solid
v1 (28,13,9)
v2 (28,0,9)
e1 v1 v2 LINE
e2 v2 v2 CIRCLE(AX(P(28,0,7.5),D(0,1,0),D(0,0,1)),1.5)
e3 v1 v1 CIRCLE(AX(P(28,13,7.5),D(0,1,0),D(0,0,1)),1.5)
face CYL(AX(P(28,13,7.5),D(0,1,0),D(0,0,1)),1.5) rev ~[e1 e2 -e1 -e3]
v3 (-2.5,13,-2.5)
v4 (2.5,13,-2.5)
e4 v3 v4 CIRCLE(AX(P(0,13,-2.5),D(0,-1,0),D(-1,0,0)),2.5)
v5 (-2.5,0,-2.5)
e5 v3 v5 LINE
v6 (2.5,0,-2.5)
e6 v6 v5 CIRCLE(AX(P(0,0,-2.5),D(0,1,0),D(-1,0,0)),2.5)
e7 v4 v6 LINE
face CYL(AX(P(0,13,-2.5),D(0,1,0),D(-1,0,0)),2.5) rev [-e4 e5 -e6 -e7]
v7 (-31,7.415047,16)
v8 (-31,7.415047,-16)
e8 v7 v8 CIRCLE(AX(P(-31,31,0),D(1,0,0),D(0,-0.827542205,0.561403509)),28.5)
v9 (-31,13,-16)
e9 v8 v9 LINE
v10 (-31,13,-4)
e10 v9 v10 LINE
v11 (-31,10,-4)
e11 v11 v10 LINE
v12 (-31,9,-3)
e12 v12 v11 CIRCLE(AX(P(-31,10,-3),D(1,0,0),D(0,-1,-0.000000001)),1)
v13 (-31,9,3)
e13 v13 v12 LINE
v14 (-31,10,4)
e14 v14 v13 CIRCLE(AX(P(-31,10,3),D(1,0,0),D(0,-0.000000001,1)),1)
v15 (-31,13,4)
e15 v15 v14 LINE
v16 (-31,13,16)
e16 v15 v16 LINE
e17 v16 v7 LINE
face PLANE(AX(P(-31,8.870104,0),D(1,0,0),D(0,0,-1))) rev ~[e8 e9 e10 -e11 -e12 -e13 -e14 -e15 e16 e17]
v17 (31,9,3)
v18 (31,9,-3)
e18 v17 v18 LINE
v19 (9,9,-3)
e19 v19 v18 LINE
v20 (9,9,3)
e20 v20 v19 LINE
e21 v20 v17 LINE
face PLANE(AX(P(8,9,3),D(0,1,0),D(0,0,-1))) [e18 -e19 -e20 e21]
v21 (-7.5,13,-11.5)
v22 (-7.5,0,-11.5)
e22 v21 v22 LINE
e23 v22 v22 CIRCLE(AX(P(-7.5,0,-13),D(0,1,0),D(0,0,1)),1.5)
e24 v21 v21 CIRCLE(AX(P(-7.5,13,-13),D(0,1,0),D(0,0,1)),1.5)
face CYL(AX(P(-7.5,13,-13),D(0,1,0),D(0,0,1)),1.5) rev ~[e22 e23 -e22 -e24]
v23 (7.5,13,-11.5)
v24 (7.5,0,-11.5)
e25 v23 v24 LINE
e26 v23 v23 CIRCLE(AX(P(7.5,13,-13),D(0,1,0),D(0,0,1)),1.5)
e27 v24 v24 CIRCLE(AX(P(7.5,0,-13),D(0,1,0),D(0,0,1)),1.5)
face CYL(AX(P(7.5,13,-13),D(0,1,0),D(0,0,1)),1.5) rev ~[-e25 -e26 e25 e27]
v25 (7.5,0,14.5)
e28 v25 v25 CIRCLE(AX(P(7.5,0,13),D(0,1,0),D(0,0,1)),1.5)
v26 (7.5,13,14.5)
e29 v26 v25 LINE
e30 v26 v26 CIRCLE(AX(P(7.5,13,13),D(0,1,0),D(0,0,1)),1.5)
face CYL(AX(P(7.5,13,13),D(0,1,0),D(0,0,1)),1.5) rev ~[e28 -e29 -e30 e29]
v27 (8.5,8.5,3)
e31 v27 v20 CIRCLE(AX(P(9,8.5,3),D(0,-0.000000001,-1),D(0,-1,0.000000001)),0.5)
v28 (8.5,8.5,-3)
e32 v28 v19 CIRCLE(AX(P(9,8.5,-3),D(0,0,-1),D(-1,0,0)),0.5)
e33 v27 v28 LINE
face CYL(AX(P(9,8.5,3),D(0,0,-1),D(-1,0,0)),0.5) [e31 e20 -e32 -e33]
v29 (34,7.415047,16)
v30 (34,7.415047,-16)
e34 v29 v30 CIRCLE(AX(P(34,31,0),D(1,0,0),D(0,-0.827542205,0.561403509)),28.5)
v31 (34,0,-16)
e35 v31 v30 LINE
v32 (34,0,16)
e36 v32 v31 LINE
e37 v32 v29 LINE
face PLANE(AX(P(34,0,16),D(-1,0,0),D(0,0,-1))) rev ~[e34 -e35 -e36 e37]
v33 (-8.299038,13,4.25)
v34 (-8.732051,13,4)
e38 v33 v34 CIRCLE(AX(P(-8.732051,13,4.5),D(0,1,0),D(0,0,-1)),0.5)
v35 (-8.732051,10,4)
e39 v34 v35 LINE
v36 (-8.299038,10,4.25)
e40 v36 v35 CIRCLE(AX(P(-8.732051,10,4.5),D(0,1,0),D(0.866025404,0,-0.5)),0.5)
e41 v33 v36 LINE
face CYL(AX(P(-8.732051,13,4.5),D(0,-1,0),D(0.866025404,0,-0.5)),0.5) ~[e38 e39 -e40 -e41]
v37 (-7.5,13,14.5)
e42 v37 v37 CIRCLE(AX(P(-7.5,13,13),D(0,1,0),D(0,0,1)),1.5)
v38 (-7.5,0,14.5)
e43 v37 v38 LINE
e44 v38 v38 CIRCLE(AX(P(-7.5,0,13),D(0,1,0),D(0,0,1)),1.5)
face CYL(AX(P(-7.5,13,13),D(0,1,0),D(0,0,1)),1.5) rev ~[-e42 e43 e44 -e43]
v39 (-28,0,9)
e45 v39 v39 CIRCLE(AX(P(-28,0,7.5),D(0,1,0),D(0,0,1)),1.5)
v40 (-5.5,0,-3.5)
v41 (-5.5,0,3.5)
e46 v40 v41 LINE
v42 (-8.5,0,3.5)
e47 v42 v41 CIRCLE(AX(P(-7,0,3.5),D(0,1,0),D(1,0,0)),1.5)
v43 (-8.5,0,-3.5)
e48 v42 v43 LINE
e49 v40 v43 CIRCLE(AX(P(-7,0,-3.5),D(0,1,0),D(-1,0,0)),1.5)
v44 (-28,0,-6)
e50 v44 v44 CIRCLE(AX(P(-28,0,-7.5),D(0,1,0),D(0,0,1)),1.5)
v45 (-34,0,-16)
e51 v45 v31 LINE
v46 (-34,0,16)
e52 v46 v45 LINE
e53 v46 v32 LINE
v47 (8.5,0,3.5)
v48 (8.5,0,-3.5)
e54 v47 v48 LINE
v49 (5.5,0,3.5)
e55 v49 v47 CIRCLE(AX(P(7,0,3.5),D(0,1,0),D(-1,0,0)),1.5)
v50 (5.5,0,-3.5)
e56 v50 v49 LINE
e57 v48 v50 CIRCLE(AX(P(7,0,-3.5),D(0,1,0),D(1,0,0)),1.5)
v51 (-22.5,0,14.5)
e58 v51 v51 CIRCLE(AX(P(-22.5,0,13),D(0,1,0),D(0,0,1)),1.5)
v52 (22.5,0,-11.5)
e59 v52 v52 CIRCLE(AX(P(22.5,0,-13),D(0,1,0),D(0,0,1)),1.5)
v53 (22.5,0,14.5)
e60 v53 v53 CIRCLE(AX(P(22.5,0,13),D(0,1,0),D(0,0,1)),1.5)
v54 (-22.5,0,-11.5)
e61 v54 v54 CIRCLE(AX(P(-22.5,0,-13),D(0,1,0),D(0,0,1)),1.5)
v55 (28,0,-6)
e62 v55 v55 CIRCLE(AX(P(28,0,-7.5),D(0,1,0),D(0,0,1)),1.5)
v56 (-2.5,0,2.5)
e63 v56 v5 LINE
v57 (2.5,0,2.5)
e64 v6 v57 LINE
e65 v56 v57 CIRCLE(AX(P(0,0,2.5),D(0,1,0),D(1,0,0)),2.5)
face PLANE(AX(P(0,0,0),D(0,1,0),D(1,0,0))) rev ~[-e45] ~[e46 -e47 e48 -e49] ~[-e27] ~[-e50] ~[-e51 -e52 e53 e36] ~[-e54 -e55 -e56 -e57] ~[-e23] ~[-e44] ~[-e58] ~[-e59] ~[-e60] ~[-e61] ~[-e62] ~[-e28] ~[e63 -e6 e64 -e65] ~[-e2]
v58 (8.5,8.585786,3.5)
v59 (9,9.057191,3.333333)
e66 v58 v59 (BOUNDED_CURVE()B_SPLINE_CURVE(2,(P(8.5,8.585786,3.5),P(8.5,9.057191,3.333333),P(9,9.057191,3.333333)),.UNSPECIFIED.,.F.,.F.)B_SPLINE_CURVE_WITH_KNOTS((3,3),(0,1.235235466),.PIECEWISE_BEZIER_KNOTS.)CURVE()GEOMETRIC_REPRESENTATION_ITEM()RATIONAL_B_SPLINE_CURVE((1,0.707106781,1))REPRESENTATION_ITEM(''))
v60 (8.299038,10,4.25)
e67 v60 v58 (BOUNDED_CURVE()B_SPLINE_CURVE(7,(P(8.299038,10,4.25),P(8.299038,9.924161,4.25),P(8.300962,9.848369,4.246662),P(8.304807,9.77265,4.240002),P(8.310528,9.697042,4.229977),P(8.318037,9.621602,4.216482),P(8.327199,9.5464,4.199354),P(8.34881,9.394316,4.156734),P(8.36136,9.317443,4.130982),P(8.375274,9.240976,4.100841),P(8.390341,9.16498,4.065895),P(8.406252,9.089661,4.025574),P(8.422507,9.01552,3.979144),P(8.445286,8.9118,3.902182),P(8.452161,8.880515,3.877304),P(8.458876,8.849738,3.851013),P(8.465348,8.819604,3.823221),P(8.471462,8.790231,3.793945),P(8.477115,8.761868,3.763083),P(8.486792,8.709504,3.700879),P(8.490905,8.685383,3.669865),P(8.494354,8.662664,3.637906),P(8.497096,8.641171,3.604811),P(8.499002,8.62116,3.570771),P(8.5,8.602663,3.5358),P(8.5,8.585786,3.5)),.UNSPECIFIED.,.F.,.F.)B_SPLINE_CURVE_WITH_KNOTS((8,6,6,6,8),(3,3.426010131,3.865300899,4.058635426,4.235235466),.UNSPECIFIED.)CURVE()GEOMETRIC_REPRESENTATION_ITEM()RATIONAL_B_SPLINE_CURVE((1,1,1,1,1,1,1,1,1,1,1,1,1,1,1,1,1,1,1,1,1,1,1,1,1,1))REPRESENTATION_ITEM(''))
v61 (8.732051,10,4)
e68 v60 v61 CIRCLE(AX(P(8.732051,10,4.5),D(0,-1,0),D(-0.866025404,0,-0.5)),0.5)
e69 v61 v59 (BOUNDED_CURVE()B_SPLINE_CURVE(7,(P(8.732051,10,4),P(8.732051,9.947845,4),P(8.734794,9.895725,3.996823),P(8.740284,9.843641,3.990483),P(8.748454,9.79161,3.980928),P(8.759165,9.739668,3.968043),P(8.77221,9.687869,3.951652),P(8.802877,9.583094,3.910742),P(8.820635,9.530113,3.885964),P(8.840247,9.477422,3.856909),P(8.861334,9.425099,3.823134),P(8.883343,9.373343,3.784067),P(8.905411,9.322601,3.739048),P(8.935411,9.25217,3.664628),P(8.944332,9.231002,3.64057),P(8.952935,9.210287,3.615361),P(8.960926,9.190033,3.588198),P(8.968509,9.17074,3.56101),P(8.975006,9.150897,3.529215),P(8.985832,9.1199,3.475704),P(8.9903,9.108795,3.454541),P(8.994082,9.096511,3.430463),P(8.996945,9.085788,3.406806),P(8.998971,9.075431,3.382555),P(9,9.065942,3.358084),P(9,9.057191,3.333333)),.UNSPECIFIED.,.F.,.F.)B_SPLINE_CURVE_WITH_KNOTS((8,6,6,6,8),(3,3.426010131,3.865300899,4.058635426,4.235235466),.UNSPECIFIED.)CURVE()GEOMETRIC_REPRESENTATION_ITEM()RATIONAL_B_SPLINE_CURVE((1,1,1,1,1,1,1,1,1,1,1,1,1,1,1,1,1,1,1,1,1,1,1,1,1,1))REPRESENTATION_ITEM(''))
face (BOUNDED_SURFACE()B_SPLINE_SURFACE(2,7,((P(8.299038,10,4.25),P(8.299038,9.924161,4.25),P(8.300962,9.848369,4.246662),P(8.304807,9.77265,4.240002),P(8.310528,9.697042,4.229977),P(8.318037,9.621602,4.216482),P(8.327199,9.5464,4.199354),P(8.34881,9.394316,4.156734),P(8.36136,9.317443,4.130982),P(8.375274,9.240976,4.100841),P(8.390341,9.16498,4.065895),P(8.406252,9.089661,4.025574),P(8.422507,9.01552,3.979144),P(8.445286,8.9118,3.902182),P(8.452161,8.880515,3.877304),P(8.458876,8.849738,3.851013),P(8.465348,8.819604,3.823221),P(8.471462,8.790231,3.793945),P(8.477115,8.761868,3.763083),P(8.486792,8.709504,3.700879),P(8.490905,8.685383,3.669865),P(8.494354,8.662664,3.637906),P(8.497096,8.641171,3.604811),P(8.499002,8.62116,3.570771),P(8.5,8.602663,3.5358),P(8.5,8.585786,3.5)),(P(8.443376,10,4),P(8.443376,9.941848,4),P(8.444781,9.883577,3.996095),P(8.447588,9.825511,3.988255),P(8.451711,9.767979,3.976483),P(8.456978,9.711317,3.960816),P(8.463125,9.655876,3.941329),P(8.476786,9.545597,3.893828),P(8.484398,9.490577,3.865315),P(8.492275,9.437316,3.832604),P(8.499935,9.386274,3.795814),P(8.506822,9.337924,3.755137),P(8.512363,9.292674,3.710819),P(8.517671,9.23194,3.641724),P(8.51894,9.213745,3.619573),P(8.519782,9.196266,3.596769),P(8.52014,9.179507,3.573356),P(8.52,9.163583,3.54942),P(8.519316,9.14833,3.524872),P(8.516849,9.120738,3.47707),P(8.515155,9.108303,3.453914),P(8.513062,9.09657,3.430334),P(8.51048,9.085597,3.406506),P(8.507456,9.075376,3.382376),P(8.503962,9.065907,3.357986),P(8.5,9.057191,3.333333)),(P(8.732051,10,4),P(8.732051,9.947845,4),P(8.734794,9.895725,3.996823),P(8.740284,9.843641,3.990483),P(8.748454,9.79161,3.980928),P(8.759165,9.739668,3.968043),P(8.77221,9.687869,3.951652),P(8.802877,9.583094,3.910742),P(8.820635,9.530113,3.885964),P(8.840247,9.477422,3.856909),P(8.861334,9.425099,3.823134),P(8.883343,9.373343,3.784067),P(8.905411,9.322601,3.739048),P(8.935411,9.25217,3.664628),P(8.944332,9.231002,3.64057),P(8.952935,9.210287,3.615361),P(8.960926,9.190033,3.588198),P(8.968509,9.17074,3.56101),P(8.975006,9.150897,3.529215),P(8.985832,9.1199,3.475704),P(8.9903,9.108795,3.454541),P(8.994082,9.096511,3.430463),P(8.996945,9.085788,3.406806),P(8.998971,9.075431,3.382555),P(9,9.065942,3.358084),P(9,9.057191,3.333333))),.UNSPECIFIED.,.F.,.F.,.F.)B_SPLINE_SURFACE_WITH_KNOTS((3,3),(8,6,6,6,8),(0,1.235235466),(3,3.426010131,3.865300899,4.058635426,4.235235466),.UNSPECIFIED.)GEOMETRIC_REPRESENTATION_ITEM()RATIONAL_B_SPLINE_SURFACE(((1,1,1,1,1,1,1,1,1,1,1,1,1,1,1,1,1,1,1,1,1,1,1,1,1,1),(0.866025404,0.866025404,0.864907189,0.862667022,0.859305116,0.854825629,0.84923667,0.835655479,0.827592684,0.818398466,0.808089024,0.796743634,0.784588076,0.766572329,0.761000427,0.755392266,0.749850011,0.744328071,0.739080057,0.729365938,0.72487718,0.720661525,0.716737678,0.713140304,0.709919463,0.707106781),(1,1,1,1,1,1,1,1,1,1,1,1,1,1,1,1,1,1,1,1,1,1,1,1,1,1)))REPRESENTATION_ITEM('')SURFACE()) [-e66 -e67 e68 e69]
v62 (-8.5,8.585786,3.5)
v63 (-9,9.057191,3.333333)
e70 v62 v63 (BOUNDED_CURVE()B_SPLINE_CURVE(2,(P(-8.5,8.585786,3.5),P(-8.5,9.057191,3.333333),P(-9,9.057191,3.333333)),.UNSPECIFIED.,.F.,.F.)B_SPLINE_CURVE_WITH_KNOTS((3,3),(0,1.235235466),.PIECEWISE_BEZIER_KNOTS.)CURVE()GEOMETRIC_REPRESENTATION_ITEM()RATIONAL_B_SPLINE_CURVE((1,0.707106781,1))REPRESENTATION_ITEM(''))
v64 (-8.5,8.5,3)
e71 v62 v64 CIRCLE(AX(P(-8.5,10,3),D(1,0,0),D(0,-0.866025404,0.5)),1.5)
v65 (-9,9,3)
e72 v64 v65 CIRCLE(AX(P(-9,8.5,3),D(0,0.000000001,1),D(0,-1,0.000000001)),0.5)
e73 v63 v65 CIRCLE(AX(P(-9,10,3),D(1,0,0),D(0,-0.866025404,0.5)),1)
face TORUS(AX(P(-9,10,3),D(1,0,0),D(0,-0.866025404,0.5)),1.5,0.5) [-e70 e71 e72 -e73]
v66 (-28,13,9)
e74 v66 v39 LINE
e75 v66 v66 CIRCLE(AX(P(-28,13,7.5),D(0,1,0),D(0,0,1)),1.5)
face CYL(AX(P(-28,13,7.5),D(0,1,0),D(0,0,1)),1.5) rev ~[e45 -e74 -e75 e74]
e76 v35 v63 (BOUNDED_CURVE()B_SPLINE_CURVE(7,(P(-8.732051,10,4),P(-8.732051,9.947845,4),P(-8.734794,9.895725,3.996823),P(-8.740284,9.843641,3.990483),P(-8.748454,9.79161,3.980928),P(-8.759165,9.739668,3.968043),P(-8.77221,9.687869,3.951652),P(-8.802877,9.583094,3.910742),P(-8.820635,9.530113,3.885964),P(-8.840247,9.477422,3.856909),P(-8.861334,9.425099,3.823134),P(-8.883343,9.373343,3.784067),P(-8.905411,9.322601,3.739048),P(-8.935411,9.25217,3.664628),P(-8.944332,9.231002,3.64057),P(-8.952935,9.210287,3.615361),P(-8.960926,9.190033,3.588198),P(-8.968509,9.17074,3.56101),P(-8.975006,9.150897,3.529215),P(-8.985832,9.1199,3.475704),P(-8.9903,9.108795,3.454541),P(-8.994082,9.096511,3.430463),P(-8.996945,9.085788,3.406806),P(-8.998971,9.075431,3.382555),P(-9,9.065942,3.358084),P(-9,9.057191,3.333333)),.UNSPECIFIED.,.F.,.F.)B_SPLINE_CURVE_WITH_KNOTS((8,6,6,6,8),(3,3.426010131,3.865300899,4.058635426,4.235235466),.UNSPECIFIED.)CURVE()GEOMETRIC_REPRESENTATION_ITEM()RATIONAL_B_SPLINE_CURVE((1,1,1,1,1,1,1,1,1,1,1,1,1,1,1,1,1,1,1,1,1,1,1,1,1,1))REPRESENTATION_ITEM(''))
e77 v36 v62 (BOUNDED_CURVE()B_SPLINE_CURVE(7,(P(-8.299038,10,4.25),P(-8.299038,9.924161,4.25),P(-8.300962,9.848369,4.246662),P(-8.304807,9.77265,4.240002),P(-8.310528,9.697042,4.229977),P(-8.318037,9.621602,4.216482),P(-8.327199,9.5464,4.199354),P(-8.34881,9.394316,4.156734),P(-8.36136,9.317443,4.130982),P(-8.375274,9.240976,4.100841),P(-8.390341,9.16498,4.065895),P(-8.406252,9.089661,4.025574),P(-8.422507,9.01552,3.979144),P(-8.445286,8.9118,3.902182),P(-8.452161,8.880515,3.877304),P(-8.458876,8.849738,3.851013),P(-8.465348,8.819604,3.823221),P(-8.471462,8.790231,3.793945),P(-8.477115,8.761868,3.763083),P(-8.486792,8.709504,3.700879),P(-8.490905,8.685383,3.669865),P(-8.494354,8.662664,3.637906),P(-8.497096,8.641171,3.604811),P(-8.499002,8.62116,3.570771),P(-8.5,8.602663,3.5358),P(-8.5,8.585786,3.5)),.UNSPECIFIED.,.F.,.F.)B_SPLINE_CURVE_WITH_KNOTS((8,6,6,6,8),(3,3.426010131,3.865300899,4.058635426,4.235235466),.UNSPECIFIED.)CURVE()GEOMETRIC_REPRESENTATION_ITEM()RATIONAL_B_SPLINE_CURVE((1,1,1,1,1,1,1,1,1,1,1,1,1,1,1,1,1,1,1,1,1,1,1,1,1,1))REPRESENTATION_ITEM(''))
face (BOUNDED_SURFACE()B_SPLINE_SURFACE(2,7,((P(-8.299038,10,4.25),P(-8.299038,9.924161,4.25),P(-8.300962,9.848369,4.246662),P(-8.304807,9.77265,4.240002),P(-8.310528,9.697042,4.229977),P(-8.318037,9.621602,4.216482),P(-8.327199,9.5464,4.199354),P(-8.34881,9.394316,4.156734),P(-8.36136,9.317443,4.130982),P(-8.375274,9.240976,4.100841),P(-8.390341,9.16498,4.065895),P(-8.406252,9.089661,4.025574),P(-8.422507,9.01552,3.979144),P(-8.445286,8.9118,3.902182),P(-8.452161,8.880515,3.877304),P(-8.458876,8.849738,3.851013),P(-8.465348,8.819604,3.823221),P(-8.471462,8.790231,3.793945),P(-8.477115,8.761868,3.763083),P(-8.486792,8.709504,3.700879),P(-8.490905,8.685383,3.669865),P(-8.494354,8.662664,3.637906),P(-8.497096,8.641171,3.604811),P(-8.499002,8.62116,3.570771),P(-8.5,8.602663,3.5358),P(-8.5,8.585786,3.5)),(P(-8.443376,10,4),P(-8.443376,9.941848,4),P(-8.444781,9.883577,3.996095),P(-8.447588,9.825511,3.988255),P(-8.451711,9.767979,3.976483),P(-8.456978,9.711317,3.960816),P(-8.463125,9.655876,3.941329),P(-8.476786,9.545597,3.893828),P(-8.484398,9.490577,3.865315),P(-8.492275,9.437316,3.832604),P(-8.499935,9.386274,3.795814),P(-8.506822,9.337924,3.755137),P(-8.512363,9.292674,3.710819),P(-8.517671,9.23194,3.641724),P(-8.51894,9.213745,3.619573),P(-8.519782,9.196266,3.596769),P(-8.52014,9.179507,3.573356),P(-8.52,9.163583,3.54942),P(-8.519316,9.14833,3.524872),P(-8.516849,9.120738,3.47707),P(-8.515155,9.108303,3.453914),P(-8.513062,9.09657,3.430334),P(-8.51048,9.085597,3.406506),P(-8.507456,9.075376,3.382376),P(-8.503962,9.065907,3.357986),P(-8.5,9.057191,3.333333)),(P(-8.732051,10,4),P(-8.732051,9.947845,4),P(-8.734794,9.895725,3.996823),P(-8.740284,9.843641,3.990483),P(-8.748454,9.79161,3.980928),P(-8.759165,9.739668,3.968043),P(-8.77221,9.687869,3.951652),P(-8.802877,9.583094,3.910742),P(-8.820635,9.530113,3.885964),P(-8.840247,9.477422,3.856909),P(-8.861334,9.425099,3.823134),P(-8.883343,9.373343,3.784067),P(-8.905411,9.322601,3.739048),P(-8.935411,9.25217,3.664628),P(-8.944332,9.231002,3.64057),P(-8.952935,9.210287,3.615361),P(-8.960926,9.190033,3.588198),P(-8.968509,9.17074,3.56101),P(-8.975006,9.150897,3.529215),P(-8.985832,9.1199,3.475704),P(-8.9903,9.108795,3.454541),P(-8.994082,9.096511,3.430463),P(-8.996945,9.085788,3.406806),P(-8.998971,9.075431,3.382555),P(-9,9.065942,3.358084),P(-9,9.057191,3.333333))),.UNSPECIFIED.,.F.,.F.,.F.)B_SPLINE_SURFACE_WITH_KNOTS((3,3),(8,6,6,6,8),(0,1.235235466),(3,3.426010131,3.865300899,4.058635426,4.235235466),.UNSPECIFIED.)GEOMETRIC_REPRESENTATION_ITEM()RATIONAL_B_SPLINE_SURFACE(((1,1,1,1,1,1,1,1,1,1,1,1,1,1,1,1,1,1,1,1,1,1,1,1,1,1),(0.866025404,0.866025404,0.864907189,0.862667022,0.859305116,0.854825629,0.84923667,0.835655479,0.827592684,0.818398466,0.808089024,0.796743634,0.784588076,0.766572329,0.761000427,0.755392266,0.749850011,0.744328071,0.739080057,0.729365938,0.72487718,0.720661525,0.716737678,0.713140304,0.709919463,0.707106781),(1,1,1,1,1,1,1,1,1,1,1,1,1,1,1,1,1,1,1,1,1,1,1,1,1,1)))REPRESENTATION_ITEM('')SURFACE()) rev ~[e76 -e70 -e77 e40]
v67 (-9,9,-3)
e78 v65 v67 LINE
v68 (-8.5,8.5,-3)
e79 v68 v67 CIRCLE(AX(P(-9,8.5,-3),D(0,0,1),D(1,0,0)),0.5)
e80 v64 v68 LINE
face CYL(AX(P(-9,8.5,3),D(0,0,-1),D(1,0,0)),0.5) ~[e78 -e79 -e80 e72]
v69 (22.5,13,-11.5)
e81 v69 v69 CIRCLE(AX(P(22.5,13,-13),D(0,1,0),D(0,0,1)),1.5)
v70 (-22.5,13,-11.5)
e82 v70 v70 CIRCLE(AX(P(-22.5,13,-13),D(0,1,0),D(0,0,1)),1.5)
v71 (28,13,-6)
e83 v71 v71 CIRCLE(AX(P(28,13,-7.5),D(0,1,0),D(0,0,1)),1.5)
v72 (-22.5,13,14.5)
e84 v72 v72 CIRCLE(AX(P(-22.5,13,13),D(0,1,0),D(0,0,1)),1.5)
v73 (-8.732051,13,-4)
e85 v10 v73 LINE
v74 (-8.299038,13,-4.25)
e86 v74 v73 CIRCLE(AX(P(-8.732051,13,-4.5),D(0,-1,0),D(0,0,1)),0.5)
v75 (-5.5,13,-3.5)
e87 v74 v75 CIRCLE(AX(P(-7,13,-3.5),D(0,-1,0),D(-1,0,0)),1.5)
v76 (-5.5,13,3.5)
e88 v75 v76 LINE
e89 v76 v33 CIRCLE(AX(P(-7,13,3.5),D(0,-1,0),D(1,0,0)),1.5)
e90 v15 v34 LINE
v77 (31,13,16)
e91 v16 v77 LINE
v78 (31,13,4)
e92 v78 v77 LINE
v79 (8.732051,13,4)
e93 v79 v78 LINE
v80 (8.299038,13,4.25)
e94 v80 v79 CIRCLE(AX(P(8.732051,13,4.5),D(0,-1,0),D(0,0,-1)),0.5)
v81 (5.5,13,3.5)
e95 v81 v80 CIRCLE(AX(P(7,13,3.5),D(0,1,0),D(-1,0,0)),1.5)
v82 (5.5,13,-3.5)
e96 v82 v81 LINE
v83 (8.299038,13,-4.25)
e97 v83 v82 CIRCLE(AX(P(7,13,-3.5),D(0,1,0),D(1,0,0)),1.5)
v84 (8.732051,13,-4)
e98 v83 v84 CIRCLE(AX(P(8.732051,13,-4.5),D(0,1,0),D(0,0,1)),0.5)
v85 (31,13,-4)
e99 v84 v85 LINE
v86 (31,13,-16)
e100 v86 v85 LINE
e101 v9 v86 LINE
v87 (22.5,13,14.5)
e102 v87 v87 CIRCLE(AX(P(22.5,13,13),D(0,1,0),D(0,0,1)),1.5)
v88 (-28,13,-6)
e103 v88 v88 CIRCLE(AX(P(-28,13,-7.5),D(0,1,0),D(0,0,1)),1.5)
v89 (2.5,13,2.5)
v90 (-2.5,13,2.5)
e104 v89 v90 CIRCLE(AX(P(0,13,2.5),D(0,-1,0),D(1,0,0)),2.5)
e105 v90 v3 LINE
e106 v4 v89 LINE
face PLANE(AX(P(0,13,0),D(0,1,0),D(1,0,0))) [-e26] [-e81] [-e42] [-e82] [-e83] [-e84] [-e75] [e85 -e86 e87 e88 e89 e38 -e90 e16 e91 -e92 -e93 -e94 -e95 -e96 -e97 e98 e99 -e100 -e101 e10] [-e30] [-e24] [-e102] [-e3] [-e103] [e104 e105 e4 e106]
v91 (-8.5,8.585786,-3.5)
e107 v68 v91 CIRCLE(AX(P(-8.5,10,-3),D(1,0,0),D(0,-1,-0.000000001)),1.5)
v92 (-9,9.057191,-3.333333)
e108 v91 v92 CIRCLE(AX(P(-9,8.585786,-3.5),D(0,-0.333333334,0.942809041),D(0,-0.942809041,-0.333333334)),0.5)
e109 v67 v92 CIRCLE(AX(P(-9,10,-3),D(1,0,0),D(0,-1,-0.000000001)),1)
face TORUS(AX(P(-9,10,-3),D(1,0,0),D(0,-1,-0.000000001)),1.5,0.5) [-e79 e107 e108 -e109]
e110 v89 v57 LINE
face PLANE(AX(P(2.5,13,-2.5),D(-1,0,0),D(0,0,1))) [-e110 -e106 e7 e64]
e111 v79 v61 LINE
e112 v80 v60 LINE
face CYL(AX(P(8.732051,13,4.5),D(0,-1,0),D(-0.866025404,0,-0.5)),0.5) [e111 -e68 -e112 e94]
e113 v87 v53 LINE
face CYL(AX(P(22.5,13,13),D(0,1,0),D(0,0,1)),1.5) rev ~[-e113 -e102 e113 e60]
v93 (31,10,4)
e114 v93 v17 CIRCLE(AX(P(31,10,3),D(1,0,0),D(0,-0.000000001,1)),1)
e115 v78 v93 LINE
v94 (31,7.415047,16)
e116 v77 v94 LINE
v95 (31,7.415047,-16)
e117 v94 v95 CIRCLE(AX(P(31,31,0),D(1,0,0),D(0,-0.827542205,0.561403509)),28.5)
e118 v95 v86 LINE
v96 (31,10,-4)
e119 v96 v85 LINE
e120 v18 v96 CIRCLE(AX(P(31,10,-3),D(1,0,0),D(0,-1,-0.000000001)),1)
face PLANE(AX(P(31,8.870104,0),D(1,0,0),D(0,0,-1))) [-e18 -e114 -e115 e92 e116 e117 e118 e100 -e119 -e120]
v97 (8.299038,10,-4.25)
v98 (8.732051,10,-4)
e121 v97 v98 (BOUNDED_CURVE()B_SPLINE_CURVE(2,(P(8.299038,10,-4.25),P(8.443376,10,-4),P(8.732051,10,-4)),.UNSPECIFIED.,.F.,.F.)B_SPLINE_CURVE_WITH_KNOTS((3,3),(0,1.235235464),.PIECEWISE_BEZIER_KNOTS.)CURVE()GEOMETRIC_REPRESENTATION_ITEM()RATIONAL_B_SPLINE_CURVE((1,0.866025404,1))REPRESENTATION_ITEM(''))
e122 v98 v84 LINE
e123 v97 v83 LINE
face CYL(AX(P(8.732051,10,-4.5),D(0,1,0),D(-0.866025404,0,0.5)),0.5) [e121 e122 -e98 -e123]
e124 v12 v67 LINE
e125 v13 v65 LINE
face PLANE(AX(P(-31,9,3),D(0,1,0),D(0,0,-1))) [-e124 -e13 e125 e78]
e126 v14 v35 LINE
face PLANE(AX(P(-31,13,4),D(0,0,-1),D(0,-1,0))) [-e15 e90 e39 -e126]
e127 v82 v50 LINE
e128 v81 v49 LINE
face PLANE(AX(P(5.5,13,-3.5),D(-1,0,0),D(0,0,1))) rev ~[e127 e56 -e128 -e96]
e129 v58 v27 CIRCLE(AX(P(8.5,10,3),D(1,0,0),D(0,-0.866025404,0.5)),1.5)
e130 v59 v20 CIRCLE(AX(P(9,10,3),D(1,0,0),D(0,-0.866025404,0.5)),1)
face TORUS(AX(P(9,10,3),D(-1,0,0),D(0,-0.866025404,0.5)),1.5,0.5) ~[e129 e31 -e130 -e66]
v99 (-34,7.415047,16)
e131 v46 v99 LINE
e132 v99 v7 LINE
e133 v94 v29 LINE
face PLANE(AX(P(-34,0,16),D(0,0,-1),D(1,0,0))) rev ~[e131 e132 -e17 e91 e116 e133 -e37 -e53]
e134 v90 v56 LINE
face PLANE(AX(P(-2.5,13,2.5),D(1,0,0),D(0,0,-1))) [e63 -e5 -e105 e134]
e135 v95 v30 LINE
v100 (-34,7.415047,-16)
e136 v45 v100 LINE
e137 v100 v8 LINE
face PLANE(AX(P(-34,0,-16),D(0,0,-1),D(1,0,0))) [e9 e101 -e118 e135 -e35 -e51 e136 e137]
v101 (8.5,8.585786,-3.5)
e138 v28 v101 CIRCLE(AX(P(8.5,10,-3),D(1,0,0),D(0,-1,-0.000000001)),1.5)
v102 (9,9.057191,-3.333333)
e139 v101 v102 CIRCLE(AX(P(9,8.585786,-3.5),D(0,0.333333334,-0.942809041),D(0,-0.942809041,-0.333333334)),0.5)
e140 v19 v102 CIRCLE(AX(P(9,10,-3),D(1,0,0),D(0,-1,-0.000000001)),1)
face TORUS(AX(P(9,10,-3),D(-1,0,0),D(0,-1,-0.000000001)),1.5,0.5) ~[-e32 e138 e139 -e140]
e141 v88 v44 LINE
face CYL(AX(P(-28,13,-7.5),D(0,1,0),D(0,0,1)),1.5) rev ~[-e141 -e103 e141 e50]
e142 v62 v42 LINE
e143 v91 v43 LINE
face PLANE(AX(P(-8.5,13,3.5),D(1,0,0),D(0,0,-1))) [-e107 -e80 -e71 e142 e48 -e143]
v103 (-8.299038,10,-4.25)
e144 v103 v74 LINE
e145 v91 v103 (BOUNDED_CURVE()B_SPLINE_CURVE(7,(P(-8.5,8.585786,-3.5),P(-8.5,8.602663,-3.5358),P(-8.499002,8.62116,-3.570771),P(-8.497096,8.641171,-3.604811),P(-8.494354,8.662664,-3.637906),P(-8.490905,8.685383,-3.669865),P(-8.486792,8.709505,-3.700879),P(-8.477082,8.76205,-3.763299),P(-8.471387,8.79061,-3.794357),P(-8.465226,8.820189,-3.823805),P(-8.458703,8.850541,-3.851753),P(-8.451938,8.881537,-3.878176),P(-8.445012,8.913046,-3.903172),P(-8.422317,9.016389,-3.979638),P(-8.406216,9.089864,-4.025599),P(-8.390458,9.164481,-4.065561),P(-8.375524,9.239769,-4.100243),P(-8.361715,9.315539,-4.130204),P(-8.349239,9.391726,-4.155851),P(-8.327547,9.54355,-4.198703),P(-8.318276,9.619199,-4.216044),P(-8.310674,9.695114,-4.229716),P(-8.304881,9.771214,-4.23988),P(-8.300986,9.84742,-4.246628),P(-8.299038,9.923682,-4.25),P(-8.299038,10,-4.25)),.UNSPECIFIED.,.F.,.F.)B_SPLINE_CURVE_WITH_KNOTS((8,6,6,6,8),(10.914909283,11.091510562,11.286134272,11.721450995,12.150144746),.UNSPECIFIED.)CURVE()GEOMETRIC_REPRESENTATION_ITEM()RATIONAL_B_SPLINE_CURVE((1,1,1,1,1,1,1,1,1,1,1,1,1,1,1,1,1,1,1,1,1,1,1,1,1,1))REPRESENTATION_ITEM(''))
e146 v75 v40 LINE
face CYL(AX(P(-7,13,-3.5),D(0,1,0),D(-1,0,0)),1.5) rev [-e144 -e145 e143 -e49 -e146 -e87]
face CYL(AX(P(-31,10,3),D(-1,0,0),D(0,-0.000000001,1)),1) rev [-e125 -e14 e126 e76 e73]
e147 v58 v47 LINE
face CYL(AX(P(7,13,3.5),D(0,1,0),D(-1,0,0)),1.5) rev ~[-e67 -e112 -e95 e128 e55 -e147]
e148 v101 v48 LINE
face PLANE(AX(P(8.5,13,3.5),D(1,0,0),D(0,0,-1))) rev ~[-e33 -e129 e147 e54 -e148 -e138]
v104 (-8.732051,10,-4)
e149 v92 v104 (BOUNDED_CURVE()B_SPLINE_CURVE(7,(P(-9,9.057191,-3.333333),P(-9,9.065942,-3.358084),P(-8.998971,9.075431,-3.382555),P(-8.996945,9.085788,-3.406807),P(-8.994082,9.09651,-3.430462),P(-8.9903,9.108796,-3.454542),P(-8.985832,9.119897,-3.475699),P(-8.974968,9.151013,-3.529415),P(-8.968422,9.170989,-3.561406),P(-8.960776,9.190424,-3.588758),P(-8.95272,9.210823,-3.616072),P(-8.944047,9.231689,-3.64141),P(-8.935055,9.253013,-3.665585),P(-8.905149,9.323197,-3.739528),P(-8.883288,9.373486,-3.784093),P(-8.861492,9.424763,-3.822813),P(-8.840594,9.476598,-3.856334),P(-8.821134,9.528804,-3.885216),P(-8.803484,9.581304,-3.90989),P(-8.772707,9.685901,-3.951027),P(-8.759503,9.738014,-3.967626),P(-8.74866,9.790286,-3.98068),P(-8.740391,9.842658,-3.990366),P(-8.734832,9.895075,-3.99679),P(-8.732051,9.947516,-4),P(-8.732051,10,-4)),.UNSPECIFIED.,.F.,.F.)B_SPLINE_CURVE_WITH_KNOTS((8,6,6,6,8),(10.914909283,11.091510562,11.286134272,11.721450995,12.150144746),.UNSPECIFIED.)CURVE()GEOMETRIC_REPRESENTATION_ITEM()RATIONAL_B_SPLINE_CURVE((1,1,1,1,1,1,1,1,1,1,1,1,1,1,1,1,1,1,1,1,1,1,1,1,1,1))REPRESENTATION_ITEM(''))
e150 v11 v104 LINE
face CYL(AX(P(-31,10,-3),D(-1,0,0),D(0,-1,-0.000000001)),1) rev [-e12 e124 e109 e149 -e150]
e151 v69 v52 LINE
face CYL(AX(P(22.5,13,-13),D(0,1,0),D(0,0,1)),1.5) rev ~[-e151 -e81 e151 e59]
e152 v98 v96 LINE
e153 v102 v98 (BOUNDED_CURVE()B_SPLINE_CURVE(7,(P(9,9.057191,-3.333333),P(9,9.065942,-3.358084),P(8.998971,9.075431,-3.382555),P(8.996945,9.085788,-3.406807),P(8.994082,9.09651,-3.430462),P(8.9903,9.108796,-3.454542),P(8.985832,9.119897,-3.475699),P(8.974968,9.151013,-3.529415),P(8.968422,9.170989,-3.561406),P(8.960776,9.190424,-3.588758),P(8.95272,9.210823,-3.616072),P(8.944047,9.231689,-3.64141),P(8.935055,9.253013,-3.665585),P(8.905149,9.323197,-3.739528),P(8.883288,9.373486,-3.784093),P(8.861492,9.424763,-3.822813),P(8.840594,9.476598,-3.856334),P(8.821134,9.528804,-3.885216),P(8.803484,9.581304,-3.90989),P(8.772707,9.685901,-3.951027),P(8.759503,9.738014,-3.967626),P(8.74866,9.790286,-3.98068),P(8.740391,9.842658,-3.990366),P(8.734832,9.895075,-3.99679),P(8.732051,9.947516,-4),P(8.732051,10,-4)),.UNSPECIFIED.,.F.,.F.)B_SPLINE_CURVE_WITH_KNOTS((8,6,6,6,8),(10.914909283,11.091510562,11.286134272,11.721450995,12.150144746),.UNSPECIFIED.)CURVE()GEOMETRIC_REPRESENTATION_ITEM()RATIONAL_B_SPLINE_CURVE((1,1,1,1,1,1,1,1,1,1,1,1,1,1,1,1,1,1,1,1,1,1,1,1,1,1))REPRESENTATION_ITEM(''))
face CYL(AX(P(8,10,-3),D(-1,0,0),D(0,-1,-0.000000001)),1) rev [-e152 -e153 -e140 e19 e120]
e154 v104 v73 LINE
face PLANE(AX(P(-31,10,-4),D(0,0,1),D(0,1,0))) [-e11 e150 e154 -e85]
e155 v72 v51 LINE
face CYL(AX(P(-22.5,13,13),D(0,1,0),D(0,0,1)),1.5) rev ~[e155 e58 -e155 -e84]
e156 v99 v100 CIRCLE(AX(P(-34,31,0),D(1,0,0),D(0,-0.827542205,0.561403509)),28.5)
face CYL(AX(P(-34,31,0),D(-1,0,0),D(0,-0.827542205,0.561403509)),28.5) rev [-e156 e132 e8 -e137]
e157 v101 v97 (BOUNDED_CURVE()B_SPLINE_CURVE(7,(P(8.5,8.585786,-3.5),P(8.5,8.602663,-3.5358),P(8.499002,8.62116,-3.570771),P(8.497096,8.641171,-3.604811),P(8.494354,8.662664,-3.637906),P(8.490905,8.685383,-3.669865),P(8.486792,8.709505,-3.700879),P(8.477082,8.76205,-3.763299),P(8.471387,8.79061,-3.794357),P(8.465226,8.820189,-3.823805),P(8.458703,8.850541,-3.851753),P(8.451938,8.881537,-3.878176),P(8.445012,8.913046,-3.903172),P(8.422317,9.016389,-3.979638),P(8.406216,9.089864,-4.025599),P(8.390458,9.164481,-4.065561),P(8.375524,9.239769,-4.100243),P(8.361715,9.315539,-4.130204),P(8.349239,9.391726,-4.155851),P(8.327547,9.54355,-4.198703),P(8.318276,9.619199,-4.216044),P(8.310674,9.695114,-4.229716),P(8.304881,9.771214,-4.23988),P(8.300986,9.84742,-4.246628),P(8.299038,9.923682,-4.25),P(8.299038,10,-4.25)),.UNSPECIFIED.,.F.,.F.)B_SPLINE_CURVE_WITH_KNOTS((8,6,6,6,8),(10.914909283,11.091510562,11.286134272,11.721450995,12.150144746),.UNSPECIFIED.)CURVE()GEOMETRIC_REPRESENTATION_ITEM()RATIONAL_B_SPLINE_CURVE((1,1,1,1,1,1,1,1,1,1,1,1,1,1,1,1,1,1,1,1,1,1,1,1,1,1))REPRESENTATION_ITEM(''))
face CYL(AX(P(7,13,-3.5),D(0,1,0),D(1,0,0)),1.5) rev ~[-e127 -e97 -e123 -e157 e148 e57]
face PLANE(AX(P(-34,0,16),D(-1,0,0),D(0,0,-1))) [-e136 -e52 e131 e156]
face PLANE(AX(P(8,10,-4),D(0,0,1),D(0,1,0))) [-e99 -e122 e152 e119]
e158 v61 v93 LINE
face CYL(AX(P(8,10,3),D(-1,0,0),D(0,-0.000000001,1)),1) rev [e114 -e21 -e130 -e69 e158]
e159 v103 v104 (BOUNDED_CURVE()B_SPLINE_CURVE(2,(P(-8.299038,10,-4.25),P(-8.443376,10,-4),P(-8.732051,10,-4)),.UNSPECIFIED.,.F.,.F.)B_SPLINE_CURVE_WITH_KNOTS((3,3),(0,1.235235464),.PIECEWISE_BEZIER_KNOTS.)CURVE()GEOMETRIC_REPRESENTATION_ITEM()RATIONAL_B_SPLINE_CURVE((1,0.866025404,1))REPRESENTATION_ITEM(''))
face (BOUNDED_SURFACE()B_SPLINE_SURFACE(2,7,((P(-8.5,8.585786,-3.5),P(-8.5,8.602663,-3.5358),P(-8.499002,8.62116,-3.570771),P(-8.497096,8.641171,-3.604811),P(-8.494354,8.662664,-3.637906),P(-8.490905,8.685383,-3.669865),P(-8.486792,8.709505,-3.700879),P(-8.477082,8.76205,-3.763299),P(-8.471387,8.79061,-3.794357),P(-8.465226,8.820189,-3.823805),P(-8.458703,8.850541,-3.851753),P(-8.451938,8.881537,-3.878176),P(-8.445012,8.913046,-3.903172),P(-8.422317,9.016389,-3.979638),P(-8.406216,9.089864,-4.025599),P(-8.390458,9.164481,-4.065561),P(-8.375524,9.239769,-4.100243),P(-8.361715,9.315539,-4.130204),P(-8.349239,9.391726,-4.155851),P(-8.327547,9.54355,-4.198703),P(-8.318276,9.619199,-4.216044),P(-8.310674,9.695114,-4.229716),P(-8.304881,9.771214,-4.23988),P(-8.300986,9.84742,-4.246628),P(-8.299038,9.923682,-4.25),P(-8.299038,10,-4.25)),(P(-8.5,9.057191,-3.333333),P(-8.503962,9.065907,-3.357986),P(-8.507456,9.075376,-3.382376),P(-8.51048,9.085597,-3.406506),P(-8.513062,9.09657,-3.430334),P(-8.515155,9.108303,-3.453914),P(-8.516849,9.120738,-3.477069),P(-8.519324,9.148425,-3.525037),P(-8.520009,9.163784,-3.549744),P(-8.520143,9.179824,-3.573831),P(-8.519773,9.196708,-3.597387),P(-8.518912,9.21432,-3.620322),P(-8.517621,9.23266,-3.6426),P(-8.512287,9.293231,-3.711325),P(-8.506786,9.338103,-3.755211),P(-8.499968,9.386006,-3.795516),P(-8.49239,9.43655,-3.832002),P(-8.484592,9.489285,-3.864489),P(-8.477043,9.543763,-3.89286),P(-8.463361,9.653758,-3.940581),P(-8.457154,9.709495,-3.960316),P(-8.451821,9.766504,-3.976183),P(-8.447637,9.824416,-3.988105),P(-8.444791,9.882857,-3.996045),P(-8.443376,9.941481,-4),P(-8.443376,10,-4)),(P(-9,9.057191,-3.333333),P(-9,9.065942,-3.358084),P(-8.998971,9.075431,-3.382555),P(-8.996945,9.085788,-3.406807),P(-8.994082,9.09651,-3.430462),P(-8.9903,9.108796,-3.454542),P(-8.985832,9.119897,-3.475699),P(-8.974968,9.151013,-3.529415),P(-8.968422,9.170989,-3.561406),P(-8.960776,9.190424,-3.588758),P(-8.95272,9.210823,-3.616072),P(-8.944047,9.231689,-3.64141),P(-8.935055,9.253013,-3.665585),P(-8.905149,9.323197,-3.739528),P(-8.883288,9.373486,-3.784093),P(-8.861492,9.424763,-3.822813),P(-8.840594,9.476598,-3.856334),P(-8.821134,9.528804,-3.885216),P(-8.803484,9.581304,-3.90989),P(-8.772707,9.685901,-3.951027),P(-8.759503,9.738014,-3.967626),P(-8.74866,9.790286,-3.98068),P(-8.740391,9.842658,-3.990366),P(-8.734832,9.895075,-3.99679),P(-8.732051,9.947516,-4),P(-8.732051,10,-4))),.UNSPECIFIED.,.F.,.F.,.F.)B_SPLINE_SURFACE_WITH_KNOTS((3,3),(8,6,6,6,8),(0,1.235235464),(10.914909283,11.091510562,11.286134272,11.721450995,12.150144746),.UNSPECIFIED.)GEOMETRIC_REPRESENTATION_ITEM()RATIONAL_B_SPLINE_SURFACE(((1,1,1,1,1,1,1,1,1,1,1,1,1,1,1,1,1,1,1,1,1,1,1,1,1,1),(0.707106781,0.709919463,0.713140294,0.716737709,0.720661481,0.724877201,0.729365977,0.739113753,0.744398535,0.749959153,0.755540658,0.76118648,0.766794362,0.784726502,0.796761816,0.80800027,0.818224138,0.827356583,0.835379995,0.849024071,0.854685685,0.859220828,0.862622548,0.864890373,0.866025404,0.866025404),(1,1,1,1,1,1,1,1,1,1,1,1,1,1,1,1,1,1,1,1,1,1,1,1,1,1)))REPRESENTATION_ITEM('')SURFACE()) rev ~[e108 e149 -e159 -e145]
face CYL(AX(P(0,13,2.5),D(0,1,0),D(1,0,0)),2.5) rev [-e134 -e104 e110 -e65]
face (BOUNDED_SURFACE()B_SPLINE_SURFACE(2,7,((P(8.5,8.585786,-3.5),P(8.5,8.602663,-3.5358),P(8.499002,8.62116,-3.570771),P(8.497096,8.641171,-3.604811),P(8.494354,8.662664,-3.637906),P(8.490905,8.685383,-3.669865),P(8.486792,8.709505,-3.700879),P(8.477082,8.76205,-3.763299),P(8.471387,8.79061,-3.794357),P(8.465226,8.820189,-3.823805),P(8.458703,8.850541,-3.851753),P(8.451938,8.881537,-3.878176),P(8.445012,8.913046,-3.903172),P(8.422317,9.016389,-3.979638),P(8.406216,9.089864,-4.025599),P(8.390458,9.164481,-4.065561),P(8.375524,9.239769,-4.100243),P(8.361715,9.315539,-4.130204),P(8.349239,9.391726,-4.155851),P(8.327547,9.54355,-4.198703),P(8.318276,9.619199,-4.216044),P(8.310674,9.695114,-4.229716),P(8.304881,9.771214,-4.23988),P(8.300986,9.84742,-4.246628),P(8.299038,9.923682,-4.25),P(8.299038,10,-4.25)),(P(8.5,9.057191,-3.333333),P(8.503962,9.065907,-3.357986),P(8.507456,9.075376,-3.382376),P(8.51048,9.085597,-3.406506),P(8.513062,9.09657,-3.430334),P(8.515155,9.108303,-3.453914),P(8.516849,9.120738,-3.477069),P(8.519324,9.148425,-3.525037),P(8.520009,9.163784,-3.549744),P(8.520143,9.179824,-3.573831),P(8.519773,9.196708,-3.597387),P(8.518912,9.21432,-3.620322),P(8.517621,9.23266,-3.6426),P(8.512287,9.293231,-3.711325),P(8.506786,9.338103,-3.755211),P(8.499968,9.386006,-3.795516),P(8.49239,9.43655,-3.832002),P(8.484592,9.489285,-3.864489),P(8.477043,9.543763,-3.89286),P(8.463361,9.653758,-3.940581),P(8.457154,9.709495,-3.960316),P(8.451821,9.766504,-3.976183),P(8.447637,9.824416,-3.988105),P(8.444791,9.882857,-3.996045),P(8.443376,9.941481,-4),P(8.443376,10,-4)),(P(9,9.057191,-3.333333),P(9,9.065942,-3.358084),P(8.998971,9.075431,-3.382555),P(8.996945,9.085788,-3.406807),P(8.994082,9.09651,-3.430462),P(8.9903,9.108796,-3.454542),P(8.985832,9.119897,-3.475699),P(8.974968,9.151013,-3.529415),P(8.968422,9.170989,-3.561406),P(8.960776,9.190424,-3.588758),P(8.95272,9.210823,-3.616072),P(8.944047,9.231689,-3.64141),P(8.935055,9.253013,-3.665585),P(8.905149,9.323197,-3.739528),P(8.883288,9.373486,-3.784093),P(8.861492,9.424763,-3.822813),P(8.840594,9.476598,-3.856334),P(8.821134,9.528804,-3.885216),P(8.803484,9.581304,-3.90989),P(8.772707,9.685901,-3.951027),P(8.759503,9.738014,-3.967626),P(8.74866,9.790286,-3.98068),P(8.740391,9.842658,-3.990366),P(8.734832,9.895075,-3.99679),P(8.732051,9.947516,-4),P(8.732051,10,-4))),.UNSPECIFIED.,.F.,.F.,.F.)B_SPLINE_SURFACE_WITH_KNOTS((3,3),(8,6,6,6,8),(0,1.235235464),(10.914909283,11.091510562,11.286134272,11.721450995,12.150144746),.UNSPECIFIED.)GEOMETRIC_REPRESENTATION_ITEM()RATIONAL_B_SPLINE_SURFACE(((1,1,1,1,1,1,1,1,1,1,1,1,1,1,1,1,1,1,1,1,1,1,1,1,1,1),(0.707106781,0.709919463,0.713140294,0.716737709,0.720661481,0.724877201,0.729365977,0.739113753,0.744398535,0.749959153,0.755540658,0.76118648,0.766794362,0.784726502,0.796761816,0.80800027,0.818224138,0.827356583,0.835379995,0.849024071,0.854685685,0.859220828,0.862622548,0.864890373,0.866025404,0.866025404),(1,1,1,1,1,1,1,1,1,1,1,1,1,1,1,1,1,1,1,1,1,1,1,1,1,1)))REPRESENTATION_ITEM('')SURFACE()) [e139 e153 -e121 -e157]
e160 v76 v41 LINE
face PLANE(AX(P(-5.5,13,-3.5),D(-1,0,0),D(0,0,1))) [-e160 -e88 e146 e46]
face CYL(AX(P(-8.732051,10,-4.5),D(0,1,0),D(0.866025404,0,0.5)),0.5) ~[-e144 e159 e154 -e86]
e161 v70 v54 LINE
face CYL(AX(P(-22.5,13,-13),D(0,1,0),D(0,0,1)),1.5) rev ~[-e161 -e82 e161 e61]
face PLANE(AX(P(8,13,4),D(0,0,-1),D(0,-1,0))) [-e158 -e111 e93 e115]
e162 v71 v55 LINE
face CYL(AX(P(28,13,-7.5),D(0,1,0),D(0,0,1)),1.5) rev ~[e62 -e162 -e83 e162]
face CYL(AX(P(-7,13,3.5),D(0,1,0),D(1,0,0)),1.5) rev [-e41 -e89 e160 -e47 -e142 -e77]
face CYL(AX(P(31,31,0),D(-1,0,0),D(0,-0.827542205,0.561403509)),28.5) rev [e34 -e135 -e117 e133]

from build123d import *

# Parameters (mm, degrees)
SKETCH1_W           = 68
SKETCH1_H           = 32
BOSS_EXTRUDE1_DEPTH = 13
SKETCH2_R           = 1.5
CUT_EXTRUDE1_DEPTH  = 40.761790704
CUT_EXTRUDE2_DEPTH  = 40.761790704
CUT_EXTRUDE3_START  = -34
CUT_EXTRUDE3_DEPTH  = 3
CUT_EXTRUDE4_START  = 31
CUT_EXTRUDE4_DEPTH  = 3
CUT_EXTRUDE5_DEPTH  = 23
CUT_EXTRUDE6_START  = -23
CUT_EXTRUDE6_DEPTH  = 23
FILLET1_R           = 0.5


with BuildPart() as part:
    # Sketch1 → Boss-Extrude1 (new body)
    with BuildSketch(Plane(origin=(0, 0, 0), x_dir=(1, 0, 0), z_dir=(0, 1, 0))):
        Rectangle(SKETCH1_W, SKETCH1_H)
    extrude(amount=BOSS_EXTRUDE1_DEPTH)

    # Sketch2 → Cut-Extrude1 (cut, through all)
    with BuildSketch(Plane(origin=(0, 13, 0), x_dir=(1, 0, 0), z_dir=(0, 1, 0))):
        with Locations(Location((-28, 7.5, 0), (0, 0, 270))):
            Circle(SKETCH2_R)
        with Locations(Location((-28, -7.5, 0), (0, 0, 270))):
            Circle(SKETCH2_R)
        with Locations(Location((28, -7.5, 0), (0, 0, 270))):
            Circle(SKETCH2_R)
        with Locations(Location((28, 7.5, 0), (0, 0, 270))):
            Circle(SKETCH2_R)
        with Locations(Location((-22.5, 13, 0), (0, 0, 270))):
            Circle(SKETCH2_R)
        with Locations(Location((-7.5, 13, 0), (0, 0, 270))):
            Circle(SKETCH2_R)
        with Locations(Location((7.5, 13, 0), (0, 0, 270))):
            Circle(SKETCH2_R)
        with Locations(Location((22.5, 13, 0), (0, 0, 270))):
            Circle(SKETCH2_R)
        with Locations(Location((-22.5, -13, 0), (0, 0, 270))):
            Circle(SKETCH2_R)
        with Locations(Location((-7.5, -13, 0), (0, 0, 270))):
            Circle(SKETCH2_R)
        with Locations(Location((7.5, -13, 0), (0, 0, 270))):
            Circle(SKETCH2_R)
        with Locations(Location((22.5, -13, 0), (0, 0, 270))):
            Circle(SKETCH2_R)
    extrude(amount=-CUT_EXTRUDE1_DEPTH, mode=Mode.SUBTRACT)

    # Sketch3 → Cut-Extrude2 (cut, through all)
    with BuildSketch(Plane(origin=(0, 13, 0), x_dir=(1, 0, 0), z_dir=(0, 1, 0))):
        with BuildLine():
            Line((-2.5, -2.5), (-2.5, 2.5))
            ThreePointArc((-2.5, 2.5), (0, 5), (2.5, 2.5))
            Line((2.5, 2.5), (2.5, -2.5))
            ThreePointArc((2.5, -2.5), (0, -5), (-2.5, -2.5))
        make_face()
        with BuildLine():
            Line((-8.5, -3.5), (-8.5, 3.5))
            ThreePointArc((-8.5, 3.5), (-7, 5), (-5.5, 3.5))
            Line((-5.5, 3.5), (-5.5, -3.5))
            ThreePointArc((-5.5, -3.5), (-7, -5), (-8.5, -3.5))
        make_face()
        with BuildLine():
            Line((8.5, -3.5), (8.5, 3.5))
            ThreePointArc((8.5, 3.5), (7, 5), (5.5, 3.5))
            Line((5.5, 3.5), (5.5, -3.5))
            ThreePointArc((5.5, -3.5), (7, -5), (8.5, -3.5))
        make_face()
    extrude(amount=-CUT_EXTRUDE2_DEPTH, mode=Mode.SUBTRACT)

    # Sketch5 → Cut-Extrude3 (cut)
    with BuildSketch(Plane(origin=(0, 0, 0), x_dir=(0, 0, -1), z_dir=(1, 0, 0)).offset(CUT_EXTRUDE3_START)):
        with BuildLine():
            Line((16, 7.41504717), (16, 13))
            Line((16, 13), (-16, 13))
            Line((-16, 13), (-16, 7.41504717))
            ThreePointArc((-16, 7.41504717), (0, 2.5), (16, 7.41504717))
        make_face()
    extrude(amount=CUT_EXTRUDE3_DEPTH, mode=Mode.SUBTRACT)

    # Sketch6 → Cut-Extrude4 (cut)
    with BuildSketch(Plane(origin=(0, 0, 0), x_dir=(0, 0, -1), z_dir=(1, 0, 0)).offset(CUT_EXTRUDE4_START)):
        with BuildLine():
            Line((16, 7.41504717), (16, 13))
            Line((16, 13), (-16, 13))
            Line((-16, 13), (-16, 7.41504717))
            ThreePointArc((-16, 7.41504717), (0, 2.5), (16, 7.41504717))
        make_face()
    extrude(amount=CUT_EXTRUDE4_DEPTH, mode=Mode.SUBTRACT)

    # Sketch7 → Cut-Extrude5 (cut)
    with BuildSketch(Plane.ZY.offset(31)):
        with BuildLine():
            Line((-4, 13), (4, 13))
            Line((4, 13), (4, 10))
            ThreePointArc((4, 10), (3.707106781, 9.292893219), (3, 9))
            Line((3, 9), (-3, 9))
            ThreePointArc((-3, 9), (-3.707106781, 9.292893219), (-4, 10))
            Line((-4, 10), (-4, 13))
        make_face()
    extrude(amount=-CUT_EXTRUDE5_DEPTH, mode=Mode.SUBTRACT)

    # Sketch8 → Cut-Extrude6 (cut)
    with BuildSketch(Plane(origin=(31, 0, 0), x_dir=(0, 0, -1), z_dir=(1, 0, 0)).offset(CUT_EXTRUDE6_START)):
        with BuildLine():
            Line((4, 13), (-4, 13))
            Line((-4, 13), (-4, 10))
            ThreePointArc((-4, 10), (-3.707106781, 9.292893219), (-3, 9))
            Line((-3, 9), (3, 9))
            ThreePointArc((3, 9), (3.707106781, 9.292893219), (4, 10))
            Line((4, 10), (4, 13))
        make_face()
    extrude(amount=CUT_EXTRUDE6_DEPTH, mode=Mode.SUBTRACT)

    # Fillet1
    fillet1_edges = [part.edges().sort_by_distance(p)[0] for p in [
        (-8.414213562, 11.5, -4),
        (-8.414213562, 11.5, 4),
        (-8.5, 9.034074174, 3.258819045),
        (-8.454681198, 9.499830019, 3.865927225),
        (-8.5, 9, 0),
        (-8.454681197, 9.499830019, -3.865927225),
        (-8.5, 9.034074174, -3.258819045),
        (8.414213562, 11.5, -4),
        (8.5, 9.034074174, -3.258819045),
        (8.454681197, 9.499830019, -3.865927225),
        (8.5, 9, 0),
        (8.454681198, 9.499830019, 3.865927225),
        (8.5, 9.034074174, 3.258819045),
        (8.414213562, 11.5, 4),
    ]]
    fillet(fillet1_edges, radius=FILLET1_R)


solid = part.part
